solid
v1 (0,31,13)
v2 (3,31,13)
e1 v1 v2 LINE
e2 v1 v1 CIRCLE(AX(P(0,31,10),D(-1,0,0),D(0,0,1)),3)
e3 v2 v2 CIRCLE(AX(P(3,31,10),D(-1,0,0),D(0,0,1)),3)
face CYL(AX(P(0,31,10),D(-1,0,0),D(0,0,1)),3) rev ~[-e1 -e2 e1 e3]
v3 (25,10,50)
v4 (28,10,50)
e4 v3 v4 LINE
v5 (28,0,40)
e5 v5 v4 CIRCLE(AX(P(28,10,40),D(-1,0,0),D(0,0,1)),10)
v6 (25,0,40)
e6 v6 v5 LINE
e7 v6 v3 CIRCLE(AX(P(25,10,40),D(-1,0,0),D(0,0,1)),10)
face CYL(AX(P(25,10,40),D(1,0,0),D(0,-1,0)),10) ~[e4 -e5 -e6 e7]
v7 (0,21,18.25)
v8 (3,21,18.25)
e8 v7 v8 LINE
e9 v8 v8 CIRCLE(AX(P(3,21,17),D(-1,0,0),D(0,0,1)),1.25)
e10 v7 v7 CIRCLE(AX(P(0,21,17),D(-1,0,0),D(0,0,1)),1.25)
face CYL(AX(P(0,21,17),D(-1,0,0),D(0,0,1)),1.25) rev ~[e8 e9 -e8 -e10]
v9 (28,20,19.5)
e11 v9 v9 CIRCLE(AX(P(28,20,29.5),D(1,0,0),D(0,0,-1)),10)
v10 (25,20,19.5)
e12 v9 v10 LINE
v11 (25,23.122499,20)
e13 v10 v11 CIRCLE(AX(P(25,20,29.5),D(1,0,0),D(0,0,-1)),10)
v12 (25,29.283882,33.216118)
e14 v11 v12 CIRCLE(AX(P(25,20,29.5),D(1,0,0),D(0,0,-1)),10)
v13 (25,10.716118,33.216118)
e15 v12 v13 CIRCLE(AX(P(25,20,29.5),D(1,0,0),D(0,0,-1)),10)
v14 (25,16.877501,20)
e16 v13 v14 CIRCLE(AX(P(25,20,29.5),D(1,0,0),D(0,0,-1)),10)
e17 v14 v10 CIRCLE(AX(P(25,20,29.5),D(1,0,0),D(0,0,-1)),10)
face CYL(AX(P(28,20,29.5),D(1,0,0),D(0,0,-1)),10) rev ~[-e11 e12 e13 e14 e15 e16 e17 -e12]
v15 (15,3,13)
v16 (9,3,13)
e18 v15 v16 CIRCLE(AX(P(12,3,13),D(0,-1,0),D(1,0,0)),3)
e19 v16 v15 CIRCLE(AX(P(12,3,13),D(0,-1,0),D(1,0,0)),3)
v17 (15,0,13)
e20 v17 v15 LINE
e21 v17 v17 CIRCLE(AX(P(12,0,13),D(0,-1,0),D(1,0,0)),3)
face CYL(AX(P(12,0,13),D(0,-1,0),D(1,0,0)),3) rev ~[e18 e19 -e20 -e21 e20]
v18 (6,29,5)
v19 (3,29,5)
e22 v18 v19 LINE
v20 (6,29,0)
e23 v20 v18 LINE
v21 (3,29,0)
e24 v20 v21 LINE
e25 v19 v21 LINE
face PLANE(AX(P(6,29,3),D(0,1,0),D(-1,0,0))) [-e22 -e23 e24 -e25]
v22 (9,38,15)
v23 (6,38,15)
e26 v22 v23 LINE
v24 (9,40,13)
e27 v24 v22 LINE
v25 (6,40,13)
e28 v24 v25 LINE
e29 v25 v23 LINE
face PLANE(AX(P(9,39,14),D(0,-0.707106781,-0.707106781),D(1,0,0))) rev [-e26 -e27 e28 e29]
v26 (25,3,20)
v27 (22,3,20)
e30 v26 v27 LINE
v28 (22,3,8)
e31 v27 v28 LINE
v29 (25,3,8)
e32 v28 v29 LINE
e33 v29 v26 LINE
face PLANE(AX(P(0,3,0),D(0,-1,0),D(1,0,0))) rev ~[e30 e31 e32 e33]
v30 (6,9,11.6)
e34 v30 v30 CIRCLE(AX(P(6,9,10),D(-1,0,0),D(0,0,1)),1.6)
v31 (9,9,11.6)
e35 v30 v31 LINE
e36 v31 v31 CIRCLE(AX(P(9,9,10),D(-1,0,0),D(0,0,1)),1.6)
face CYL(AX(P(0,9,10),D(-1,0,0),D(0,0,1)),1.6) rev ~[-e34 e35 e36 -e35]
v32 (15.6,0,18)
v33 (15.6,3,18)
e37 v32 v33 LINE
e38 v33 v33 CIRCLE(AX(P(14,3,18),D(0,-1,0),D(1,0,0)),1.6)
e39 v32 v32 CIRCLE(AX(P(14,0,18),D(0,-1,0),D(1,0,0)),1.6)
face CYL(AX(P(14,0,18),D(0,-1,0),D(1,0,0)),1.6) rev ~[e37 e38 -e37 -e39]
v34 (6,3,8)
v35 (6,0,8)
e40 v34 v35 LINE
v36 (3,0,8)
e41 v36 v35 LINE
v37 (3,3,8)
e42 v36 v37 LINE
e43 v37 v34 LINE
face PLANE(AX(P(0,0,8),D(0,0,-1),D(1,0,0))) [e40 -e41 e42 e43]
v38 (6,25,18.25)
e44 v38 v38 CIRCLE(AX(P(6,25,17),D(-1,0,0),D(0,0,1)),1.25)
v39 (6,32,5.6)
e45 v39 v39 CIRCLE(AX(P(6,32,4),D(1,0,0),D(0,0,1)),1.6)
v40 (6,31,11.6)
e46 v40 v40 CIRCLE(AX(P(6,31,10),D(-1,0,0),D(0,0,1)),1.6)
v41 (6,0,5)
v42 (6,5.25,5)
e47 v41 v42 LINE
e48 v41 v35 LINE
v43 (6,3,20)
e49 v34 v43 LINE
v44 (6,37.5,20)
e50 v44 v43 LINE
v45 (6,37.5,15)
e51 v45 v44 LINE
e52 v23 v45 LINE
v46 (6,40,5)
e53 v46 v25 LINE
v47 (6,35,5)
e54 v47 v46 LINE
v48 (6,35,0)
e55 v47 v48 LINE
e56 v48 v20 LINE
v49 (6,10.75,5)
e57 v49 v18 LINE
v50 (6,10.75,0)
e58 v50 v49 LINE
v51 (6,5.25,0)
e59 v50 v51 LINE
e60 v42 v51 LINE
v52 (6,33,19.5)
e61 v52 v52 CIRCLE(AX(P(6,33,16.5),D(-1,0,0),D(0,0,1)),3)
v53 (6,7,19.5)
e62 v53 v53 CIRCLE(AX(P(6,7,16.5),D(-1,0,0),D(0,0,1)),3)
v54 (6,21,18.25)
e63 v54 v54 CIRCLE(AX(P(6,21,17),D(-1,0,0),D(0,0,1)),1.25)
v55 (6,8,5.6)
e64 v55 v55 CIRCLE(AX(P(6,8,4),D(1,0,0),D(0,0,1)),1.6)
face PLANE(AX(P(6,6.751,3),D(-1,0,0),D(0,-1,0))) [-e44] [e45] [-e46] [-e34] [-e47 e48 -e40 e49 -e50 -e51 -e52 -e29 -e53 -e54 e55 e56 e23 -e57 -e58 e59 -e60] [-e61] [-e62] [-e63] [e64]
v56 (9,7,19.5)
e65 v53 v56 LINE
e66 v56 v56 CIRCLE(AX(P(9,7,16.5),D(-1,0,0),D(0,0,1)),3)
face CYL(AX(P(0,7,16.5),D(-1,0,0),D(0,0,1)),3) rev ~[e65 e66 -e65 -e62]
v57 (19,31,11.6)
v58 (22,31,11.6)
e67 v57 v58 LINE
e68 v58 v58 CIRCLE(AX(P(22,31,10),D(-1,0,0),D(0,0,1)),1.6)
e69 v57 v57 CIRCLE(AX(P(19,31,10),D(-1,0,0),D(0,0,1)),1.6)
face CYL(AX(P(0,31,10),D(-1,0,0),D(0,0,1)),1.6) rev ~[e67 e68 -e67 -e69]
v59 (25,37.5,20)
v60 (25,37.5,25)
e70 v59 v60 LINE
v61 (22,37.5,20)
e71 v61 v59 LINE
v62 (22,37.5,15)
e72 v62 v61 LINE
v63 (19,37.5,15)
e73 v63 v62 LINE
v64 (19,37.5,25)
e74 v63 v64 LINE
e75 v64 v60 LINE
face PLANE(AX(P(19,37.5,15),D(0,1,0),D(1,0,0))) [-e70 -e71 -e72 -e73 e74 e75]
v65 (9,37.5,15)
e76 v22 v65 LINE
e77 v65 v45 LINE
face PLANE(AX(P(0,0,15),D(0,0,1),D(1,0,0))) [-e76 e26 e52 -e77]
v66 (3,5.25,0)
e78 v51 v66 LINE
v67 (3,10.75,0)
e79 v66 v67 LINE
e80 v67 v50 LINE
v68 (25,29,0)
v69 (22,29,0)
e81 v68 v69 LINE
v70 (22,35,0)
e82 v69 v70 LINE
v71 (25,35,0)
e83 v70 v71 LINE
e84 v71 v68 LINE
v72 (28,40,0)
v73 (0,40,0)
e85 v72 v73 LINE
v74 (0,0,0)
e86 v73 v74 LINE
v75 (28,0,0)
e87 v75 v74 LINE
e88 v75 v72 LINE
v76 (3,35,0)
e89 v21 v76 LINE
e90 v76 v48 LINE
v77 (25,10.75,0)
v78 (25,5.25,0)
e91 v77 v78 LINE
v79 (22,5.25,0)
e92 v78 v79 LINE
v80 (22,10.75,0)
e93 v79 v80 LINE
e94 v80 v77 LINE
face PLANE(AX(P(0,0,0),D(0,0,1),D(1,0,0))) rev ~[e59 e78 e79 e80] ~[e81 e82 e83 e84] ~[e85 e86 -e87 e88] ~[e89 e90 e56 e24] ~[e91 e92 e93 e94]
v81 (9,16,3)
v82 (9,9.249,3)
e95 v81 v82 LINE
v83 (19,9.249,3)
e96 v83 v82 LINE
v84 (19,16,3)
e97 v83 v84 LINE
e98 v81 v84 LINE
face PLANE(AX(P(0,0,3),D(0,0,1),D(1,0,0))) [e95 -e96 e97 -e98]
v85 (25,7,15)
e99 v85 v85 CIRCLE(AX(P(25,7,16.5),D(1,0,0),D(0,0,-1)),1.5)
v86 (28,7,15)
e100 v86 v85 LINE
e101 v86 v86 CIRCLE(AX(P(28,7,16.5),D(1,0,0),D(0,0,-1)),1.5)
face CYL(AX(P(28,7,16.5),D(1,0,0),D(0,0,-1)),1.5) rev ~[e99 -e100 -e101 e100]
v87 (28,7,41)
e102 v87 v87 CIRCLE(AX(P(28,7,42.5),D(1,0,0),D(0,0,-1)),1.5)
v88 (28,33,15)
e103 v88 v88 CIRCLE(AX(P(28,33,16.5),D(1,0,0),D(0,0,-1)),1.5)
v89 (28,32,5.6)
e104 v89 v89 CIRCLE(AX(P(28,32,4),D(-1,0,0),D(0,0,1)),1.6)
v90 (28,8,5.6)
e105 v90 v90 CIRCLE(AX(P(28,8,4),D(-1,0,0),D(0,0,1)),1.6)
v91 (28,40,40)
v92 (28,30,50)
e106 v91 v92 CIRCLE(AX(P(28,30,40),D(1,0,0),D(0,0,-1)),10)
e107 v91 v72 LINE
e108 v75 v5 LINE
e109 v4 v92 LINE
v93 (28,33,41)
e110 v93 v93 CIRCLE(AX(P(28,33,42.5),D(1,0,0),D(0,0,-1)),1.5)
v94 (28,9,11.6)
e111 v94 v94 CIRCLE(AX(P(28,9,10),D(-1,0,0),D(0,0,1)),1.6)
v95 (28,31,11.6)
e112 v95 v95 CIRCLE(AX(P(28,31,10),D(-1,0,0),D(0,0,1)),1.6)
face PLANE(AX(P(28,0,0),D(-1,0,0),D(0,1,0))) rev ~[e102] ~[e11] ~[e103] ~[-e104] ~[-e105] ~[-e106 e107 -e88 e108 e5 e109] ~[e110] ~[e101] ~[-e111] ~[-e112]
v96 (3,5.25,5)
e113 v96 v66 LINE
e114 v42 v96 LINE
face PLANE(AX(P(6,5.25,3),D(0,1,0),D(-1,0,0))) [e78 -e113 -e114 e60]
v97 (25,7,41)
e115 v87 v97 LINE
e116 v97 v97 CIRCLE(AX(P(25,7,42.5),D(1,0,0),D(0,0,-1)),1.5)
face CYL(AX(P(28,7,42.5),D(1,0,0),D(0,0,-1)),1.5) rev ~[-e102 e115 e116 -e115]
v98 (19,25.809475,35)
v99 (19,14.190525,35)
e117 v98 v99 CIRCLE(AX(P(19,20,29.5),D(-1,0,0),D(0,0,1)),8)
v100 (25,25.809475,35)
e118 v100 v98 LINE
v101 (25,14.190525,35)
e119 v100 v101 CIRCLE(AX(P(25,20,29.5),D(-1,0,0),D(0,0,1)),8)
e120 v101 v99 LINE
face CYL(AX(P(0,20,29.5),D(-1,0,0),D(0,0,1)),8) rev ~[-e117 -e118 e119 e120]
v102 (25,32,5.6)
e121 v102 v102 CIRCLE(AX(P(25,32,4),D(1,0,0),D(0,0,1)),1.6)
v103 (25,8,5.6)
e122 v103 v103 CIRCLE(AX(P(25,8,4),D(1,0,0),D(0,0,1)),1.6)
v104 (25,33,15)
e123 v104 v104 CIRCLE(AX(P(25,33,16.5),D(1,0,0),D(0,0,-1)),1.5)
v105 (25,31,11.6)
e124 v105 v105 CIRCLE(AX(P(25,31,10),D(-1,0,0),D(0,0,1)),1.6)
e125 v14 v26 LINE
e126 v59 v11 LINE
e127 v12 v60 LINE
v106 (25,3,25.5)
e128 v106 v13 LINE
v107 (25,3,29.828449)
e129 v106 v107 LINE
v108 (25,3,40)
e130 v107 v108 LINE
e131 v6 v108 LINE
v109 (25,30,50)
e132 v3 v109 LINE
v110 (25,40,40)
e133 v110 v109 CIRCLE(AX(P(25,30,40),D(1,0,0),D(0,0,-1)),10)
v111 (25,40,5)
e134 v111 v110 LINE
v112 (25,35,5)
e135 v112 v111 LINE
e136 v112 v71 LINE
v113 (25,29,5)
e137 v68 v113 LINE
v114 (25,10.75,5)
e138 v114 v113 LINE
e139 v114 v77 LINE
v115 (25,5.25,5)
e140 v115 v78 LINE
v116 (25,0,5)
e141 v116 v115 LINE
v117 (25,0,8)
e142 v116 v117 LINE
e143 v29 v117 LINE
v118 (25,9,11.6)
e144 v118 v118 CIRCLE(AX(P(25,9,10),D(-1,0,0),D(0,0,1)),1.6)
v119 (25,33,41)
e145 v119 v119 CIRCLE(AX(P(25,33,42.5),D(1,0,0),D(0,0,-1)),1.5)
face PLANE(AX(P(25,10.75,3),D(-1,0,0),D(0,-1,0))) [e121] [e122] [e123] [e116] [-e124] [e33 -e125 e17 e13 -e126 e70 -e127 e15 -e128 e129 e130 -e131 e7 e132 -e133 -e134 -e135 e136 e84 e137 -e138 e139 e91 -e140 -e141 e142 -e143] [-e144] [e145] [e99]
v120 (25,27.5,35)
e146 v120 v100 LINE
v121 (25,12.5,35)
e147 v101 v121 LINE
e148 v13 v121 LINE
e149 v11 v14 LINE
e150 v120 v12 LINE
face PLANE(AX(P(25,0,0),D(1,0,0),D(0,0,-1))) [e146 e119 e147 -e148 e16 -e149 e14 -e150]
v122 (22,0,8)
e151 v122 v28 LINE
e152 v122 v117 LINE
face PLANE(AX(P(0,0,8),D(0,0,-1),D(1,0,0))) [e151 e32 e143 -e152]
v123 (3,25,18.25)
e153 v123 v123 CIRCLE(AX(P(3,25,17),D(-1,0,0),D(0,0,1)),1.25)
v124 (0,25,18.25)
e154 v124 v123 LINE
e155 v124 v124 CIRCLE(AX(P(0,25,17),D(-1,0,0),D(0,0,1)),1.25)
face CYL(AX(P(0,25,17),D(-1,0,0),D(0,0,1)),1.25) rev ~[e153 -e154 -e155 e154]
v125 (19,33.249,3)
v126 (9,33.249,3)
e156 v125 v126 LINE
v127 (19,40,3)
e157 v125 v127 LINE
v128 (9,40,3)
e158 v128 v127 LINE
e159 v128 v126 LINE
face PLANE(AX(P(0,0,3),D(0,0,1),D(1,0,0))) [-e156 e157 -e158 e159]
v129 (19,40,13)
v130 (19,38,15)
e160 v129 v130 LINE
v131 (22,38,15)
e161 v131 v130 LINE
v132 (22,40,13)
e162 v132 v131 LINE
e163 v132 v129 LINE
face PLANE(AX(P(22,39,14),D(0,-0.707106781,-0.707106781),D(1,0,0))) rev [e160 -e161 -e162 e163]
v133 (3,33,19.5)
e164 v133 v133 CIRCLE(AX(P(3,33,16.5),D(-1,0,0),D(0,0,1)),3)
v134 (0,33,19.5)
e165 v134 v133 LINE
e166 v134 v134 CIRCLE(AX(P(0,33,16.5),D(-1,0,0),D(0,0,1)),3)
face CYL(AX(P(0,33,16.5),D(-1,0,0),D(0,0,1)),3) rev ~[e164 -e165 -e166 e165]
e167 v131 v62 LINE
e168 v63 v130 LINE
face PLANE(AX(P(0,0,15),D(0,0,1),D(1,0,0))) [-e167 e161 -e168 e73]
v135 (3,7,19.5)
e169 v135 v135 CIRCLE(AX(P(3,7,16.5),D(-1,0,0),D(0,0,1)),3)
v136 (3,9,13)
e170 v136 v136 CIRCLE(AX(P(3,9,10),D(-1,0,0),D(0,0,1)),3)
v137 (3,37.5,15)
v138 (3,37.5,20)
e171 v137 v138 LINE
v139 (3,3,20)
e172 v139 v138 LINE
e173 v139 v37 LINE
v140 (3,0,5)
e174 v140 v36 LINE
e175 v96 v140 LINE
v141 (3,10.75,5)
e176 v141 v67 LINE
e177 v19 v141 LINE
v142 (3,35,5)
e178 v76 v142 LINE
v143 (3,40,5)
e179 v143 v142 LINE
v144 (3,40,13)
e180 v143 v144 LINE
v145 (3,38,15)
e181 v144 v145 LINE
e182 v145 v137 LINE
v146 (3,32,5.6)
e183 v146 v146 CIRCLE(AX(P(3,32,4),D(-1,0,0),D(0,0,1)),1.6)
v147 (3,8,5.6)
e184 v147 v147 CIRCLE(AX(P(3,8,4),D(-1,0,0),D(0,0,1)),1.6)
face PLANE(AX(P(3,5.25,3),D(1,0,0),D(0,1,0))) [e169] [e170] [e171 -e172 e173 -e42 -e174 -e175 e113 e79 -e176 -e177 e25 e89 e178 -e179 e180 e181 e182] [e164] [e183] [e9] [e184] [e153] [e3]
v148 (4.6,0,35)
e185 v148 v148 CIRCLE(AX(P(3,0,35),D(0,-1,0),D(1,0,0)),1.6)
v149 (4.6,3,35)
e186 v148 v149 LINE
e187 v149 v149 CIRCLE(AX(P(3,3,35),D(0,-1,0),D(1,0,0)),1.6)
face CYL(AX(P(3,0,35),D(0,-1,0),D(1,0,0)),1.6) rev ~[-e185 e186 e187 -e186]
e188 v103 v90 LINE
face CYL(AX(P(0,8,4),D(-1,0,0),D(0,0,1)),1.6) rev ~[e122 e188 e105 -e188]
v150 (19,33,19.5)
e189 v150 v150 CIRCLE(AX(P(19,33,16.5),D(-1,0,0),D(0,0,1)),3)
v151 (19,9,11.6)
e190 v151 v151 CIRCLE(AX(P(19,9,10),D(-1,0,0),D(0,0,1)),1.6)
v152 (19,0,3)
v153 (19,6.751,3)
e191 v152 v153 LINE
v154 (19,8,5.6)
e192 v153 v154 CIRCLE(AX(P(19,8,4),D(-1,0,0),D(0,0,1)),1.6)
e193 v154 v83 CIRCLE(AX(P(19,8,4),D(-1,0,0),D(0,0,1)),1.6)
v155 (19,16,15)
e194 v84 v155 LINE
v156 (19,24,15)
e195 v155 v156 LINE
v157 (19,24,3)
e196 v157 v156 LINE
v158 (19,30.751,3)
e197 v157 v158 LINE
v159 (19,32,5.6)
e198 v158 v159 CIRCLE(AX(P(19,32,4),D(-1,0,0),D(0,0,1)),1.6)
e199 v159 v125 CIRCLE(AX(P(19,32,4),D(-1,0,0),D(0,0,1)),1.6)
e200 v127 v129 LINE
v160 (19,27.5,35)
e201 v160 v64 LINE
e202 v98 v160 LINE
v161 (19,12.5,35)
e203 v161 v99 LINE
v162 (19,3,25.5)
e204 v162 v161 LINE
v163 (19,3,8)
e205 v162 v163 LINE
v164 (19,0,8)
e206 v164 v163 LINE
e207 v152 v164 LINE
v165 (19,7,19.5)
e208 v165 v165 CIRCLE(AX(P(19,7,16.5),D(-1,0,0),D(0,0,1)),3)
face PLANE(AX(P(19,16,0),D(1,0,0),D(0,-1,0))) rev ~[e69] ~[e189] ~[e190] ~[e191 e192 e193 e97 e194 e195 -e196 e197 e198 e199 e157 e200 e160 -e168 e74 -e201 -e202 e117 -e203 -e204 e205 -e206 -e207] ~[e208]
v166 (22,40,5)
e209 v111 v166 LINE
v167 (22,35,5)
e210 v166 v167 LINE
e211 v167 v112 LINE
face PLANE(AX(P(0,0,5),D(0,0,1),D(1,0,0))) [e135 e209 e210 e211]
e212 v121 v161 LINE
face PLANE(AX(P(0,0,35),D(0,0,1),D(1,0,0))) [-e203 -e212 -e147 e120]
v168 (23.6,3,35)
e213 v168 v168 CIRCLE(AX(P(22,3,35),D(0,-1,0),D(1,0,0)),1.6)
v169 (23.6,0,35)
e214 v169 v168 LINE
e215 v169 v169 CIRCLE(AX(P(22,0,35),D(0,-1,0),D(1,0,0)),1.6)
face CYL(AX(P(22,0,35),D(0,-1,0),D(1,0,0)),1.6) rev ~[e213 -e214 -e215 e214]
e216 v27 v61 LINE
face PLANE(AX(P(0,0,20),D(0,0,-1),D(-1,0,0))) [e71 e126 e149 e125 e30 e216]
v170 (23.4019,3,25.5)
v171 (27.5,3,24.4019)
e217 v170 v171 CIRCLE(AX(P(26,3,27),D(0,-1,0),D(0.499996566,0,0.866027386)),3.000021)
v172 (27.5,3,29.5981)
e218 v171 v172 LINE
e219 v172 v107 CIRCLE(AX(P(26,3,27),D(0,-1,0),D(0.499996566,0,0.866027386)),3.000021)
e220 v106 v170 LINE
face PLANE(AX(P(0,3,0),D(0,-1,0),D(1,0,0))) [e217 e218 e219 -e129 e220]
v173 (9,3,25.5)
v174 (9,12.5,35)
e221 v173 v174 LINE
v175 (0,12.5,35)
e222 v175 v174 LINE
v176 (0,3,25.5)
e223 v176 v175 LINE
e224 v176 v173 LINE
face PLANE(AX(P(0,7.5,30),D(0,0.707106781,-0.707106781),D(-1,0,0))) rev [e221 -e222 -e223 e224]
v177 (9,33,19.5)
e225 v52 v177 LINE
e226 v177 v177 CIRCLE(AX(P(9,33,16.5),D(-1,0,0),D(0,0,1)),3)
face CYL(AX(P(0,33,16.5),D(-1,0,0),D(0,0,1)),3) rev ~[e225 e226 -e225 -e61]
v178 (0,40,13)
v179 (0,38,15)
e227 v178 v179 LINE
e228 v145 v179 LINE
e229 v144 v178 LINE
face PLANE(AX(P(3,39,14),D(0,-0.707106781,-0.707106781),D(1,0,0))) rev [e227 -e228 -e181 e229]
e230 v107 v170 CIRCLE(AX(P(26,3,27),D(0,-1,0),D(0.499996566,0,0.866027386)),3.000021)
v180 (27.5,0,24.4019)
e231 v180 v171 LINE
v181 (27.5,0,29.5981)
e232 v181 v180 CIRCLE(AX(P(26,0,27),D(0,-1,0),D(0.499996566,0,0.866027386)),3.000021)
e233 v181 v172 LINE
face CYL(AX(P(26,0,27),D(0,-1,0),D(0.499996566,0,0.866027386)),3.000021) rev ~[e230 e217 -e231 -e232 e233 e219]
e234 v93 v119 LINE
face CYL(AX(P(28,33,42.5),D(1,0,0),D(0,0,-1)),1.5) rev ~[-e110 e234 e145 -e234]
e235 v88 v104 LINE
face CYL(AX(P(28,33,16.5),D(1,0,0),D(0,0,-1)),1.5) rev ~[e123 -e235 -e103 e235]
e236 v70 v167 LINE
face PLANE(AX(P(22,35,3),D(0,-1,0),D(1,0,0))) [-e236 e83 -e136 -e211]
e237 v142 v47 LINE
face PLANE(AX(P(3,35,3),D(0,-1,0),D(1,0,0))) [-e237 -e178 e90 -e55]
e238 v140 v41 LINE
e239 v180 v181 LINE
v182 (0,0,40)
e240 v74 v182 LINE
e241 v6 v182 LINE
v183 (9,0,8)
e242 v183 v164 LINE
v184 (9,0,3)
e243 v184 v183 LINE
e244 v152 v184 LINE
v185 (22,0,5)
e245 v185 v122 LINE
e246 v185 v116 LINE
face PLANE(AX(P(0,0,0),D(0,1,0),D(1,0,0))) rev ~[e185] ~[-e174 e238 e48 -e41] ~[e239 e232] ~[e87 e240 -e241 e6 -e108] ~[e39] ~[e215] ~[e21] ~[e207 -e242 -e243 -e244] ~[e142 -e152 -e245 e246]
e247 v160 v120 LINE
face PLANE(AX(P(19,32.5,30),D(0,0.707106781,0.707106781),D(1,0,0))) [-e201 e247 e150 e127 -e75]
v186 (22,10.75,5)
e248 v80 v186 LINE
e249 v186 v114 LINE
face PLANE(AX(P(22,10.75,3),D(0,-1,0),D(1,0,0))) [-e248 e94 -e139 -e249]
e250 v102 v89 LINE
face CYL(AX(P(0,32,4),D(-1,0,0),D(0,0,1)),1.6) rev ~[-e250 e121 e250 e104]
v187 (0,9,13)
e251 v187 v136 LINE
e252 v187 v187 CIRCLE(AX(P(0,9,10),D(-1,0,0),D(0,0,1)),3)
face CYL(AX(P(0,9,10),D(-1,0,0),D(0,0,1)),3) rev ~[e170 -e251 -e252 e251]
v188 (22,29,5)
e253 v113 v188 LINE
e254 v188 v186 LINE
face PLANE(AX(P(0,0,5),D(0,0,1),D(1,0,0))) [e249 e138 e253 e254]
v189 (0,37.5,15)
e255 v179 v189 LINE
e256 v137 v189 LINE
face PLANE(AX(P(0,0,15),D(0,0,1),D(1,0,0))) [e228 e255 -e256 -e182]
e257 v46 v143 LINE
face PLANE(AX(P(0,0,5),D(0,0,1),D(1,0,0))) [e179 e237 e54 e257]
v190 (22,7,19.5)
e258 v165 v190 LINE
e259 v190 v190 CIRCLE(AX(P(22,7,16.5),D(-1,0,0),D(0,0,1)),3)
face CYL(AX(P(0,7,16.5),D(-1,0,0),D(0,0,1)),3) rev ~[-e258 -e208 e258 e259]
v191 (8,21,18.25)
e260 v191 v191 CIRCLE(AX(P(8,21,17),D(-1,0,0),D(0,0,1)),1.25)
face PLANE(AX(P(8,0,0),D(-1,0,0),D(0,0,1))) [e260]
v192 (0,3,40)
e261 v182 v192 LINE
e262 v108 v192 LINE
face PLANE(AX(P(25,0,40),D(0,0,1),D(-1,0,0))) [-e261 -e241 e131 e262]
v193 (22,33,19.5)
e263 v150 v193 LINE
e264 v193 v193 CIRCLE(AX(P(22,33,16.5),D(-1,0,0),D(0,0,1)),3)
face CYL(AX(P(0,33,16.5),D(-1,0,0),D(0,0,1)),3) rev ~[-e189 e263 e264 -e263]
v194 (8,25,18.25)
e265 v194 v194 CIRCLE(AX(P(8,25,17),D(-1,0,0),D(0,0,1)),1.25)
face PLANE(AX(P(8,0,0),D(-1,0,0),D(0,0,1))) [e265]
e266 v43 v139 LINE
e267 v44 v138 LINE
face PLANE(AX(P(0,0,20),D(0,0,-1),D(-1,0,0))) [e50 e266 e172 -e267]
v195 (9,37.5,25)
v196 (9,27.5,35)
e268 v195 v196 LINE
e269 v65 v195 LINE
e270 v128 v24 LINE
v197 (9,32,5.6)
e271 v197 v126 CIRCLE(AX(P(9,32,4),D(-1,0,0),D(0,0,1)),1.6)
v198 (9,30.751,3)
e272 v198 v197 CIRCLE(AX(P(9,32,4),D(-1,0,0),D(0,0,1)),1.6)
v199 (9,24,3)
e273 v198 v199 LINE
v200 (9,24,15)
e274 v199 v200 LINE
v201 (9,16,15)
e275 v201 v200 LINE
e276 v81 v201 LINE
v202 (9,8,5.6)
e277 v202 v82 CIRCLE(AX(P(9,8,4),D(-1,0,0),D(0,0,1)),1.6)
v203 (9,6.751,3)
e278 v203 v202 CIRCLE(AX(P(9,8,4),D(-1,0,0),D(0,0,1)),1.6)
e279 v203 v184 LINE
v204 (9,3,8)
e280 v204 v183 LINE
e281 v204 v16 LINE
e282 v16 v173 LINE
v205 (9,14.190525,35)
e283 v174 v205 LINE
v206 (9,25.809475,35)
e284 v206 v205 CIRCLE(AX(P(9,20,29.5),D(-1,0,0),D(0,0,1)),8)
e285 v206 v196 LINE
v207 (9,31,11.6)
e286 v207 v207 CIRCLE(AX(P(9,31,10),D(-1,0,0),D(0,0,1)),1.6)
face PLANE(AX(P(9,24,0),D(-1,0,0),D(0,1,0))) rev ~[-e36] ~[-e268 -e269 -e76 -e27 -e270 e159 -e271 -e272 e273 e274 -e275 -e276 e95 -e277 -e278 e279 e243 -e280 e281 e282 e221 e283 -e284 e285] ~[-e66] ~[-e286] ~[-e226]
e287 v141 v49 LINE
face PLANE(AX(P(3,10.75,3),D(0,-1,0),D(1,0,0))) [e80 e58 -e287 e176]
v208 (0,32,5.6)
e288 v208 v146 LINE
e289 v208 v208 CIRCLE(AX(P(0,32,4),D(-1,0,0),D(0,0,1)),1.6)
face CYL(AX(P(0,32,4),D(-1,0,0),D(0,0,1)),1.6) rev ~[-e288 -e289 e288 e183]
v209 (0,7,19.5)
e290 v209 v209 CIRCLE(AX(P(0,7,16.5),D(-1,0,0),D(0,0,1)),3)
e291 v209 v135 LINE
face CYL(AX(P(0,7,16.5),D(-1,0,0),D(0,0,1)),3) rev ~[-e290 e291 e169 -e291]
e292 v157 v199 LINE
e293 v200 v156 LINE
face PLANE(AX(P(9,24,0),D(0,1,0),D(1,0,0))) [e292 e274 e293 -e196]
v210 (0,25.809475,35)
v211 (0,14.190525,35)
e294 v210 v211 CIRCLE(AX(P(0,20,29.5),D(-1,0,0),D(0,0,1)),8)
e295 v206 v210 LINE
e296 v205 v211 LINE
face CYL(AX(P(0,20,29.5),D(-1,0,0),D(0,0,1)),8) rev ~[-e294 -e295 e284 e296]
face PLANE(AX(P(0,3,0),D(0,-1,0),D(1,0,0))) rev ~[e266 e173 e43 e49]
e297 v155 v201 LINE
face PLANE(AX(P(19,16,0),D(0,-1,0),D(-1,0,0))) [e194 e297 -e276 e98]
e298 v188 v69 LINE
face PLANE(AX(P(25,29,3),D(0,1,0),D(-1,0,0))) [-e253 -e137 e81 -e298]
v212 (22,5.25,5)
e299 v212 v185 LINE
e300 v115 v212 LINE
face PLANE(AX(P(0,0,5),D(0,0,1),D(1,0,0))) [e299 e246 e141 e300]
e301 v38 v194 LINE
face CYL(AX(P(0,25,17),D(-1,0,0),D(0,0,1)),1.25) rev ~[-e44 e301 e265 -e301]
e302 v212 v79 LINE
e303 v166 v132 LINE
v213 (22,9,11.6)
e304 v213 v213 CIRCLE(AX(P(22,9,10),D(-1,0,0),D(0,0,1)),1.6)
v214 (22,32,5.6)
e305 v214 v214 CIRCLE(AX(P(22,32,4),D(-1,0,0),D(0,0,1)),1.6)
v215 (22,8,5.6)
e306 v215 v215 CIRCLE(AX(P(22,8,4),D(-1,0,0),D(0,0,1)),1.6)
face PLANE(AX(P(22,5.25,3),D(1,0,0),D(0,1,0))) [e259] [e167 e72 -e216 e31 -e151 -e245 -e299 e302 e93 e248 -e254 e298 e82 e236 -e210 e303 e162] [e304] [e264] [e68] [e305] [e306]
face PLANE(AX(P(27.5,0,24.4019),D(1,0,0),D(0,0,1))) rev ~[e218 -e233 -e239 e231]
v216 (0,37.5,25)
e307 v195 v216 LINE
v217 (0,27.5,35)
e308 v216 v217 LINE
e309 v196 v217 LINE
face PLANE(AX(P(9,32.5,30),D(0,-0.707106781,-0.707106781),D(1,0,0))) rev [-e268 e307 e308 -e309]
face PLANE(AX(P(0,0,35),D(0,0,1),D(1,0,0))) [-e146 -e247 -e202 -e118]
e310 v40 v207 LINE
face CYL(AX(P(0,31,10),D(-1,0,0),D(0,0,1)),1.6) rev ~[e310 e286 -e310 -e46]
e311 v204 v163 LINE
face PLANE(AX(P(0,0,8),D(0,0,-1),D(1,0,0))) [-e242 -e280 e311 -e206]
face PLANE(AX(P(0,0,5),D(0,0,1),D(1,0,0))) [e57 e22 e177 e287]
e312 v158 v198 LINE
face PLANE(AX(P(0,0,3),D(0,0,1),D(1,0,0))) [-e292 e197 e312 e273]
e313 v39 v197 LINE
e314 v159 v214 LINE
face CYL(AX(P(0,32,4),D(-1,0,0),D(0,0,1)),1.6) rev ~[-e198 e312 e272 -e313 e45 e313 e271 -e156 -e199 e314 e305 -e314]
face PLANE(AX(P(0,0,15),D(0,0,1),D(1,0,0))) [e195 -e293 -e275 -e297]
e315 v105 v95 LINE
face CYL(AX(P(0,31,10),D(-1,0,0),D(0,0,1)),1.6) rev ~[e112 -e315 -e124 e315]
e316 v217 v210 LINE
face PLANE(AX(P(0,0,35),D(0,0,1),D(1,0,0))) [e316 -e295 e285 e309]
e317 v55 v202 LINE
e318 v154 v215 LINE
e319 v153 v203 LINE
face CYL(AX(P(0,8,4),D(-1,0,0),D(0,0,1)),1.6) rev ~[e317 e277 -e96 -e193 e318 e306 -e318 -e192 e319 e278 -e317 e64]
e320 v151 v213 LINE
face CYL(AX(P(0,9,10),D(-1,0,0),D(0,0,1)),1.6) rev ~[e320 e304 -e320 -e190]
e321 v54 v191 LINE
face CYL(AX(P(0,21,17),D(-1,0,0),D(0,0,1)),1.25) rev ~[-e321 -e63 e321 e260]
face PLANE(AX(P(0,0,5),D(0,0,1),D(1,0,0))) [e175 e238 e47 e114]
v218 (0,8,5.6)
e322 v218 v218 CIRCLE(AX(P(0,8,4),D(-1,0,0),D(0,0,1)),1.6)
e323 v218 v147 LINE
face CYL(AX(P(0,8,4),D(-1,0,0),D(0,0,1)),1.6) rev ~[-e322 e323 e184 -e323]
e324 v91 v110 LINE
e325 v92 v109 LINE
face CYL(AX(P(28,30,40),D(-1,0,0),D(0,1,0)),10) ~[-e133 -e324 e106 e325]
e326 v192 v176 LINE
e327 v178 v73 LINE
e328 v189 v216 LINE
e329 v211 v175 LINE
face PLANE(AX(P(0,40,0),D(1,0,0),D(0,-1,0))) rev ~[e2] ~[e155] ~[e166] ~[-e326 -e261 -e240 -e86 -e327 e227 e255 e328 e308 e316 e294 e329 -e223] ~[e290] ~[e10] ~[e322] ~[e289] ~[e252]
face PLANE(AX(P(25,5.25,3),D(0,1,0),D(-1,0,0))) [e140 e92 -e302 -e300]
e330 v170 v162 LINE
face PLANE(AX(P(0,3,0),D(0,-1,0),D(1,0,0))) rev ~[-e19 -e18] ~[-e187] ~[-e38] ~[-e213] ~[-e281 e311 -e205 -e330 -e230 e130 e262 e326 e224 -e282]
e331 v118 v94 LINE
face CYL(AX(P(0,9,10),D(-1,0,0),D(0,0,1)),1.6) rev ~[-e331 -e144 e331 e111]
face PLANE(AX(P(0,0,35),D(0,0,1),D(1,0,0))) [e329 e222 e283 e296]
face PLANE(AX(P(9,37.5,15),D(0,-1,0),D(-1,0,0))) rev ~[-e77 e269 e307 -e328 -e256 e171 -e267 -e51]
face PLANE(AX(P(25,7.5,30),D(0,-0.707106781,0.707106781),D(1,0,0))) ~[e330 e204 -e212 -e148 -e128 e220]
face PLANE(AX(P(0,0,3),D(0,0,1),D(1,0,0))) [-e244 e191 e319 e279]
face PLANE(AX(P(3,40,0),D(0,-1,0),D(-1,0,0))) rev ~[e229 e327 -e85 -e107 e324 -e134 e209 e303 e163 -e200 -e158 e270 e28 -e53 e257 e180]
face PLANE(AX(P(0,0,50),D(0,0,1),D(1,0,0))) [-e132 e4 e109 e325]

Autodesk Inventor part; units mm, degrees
ref_plane "YZ Plane" through (0, 0, 0) normal (1, 0, 0) x (0, 1, 0)
ref_plane "XZ Plane" through (0, 0, 0) normal (0, 1, 0) x (-1, 0, 0)
ref_plane "XY Plane" through (0, 0, 0) normal (0, 0, 1) x (1, 0, 0)
sketch "Sketch1" plane through (0, 0, 0) normal (0, 0, 1) x (1, 0, 0)
  line L0 (0, 0) -> (28, 0)
  line L1 (28, 0) -> (28, 40)
  line L2 (28, 40) -> (0, 40)
  line L3 (0, 40) -> (0, 0)
  line L4 (9, 40) -> (19, 40)
  line L5 (19, 40) -> (19, 0)
  line L6 (19, 0) -> (9, 0)
  line L7 (9, 0) -> (9, 40)
  line L8 (9, 40) -> (6, 40)
  line L9 (6, 40) -> (6, 0)
  line L10 (6, 0) -> (9, 0)
  line L11 (9, 0) -> (9, 40)
  line L12 (19, 40) -> (22, 40)
  line L13 (22, 40) -> (22, 0)
  line L14 (22, 0) -> (19, 0)
  line L15 (19, 0) -> (19, 40)
  line L16 (25, 40) -> (28, 40)
  line L17 (28, 40) -> (28, 0)
  line L18 (28, 0) -> (25, 0)
  line L19 (25, 0) -> (25, 40)
  line L20 (9, 24) -> (19, 24)
  line L21 (19, 24) -> (19, 16)
  line L22 (19, 16) -> (9, 16)
  line L23 (9, 16) -> (9, 24)
  line L24 (9, 40) -> (19, 40)
  line L25 (19, 40) -> (19, 40)
  line L26 (19, 40) -> (9, 40)
  line L27 (9, 40) -> (9, 40)
  line L28 (9, 0) -> (19, 0)
  line L29 (19, 0) -> (19, 0)
  line L30 (19, 0) -> (9, 0)
  line L31 (9, 0) -> (9, 0)
  line L32 (0, 40) -> (3, 40)
  line L33 (3, 40) -> (3, 0)
  line L34 (3, 0) -> (0, 0)
  line L35 (0, 0) -> (0, 40)
  point P0 (14, 40)
  point P1 (14, 40)
  point P2 (9, 20)
  point P3 (9, 20)
  point P4 (9, 20)
  point P5 (0, 20)
  dimension "d0" = 28
  dimension "d1" = 40
  dimension "d15" = 10
  dimension "d16" = 40
  dimension "d18" = 3
  dimension "d19" = 3
  dimension "d20" = 3
  dimension "d30" = 8
  dimension "d33" = 3
extrude "Extrusion1" add sketch "Sketch1" along normal blind 3
extrude "Extrusion3" add sketch "Sketch1" along normal blind 15 contours L3 L2 L33 L0 | L9 L2 L7 L0 | L5 L2 L13 L0
extrude "Extrusion4" add sketch "Sketch1" along normal blind 50 contours L19 L2 L1 L0
extrude "Extrusion6" add sketch "Sketch1" along normal blind 15 contours L7 L20 L5 L22
sketch "Sketch7" plane through (0, 0, 0) normal (-1, 0, 0) x (0, 0, 1)
  circle A0 centre (4, 32) radius 1.6
  circle A1 centre (4, 8) radius 1.6
  line L0 (4, 32) -> (4, 8) construction
  line L1 (15, 40) -> (15, 0) construction
  line L2 (0, 40) -> (15, 40) construction
  circle A2 centre (10, 31) radius 1.6
  circle A3 centre (10, 9) radius 1.6
  point P0 (0, 0)
  point P1 (4, 20)
  point P2 (15, 20)
  dimension "d34" = 3.2
  dimension "d35" = 3.2
  dimension "d36" = 24
  dimension "d40" = 4
  dimension "d48" = 3.2
  dimension "d49" = 3.2
  dimension "d50" = 9
  dimension "d51" = 5
  dimension "d52" = 5
  dimension "d53" = 9
extrude "Extrusion7" cut sketch "Sketch7" against normal through all
sketch "Sketch9" plane through (0, 0, 3) normal (0, 0, 1) x (1, 0, 0)
  line L0 (3, 33.249) -> (6, 33.249) projected
  line L1 (6, 30.751) -> (3, 30.751) projected
  line L2 (6, 6.751) -> (3, 6.751) projected
  line L3 (3, 9.249) -> (6, 9.249) projected
  line L4 (3, 35) -> (6, 35)
  line L5 (6, 35) -> (6, 29)
  line L6 (6, 29) -> (3, 29)
  line L7 (3, 29) -> (3, 35)
  line L8 (22, 35) -> (25, 35)
  line L9 (25, 35) -> (25, 29)
  line L10 (25, 29) -> (22, 29)
  line L11 (22, 29) -> (22, 35)
  line L12 (3, 10.75) -> (6, 10.75)
  line L13 (6, 10.75) -> (6, 5.25)
  line L14 (6, 5.25) -> (3, 5.25)
  line L15 (3, 5.25) -> (3, 10.75)
  line L16 (22, 10.75) -> (25, 10.75)
  line L17 (25, 10.75) -> (25, 5.25)
  line L18 (25, 5.25) -> (22, 5.25)
  line L19 (22, 5.25) -> (22, 10.75)
  line L20 (3, 33.6) -> (3, 30.4) projected
  line L21 (3, 9.6) -> (3, 6.4) projected
  line L22 (22, 33.249) -> (25, 33.249) projected
  point P0 (0, 0)
  point P1 (4.5, 35)
  point P2 (4.5, 33.249)
  point P3 (23.5, 35)
  point P4 (3, 32)
  point P5 (3, 32)
  point P6 (3, 8)
  point P7 (3, 8)
  point P8 (23.5, 33.249)
  dimension "d41" = 6
  dimension "d43" = 5.5
  dimension "d44" = 3
  dimension "d45" = 3
extrude "Extrusion8" cut sketch "Sketch9" against normal blind 5
sketch "Sketch10" plane through (0, 0, 0) normal (-1, 0, 0) x (0, 0, 1)
  circle A0 centre (10, 9) radius 1.6 construction
  circle A1 centre (10, 31) radius 1.6 construction
  circle A2 centre (10, 31) radius 3
  circle A3 centre (10, 9) radius 3
  dimension "d54" = 6
  dimension "d55" = 6
extrude "Extrusion9" cut sketch "Sketch10" against normal blind 3
sketch "Sketch11" plane through (0, 0, 3) normal (0, 0, 1) x (1, 0, 0)
  line L0 (6, 5.25) -> (3, 5.25) projected
  line L1 (3, 5.25) -> (3, 0) projected
  line L2 (3, 0) -> (6, 0) projected
  line L3 (6, 0) -> (6, 5.25) projected
  line L4 (6, 29) -> (3, 29) projected
  line L5 (3, 29) -> (3, 10.75) projected
  line L6 (3, 10.75) -> (6, 10.75) projected
  line L7 (6, 10.75) -> (6, 29) projected
  line L8 (25, 5.25) -> (22, 5.25) projected
  line L9 (22, 5.25) -> (22, 0) projected
  line L10 (22, 0) -> (25, 0) projected
  line L11 (25, 0) -> (25, 5.25) projected
  line L12 (22, 10.75) -> (25, 10.75) projected
  line L13 (25, 10.75) -> (25, 29) projected
  line L14 (25, 29) -> (22, 29) projected
  line L15 (22, 29) -> (22, 10.75) projected
  line L16 (22, 35) -> (25, 35) projected
  line L17 (25, 35) -> (25, 40) projected
  line L18 (25, 40) -> (22, 40) projected
  line L19 (22, 40) -> (22, 35) projected
  line L20 (3, 35) -> (6, 35) projected
  line L21 (6, 35) -> (6, 40) projected
  line L22 (6, 40) -> (3, 40) projected
  line L23 (3, 40) -> (3, 35) projected
  point P0 (0, 0)
extrude "Extrusion10" add sketch "Sketch11" along normal blind 2
sketch "Sketch12" plane through (0, 0, 15) normal (0, 0, 1) x (1, 0, 0)
  line L0 (19, 40) -> (19, 24) construction
  line L1 (19, 24) -> (9, 24) construction
  line L2 (9, 24) -> (9, 40) construction
  line L3 (9, 40) -> (6, 40) construction
  line L4 (6, 40) -> (6, 0) construction
  line L5 (6, 0) -> (9, 0) construction
  line L6 (9, 0) -> (9, 16) construction
  line L7 (9, 16) -> (19, 16) construction
  line L8 (19, 16) -> (19, 0) construction
  line L9 (19, 0) -> (22, 0) construction
  line L10 (22, 0) -> (22, 40) construction
  line L11 (22, 40) -> (19, 40) construction
  line L12 (25, 40) -> (25, 0) construction
  line L13 (3, 0) -> (3, 40) construction
  line L14 (0, 40) -> (0, 0) construction
  line L15 (9, 37.5) -> (0, 37.5)
  line L16 (0, 37.5) -> (0, 2.5)
  line L17 (0, 2.5) -> (9, 2.5)
  line L18 (9, 2.5) -> (9, 37.5)
  line L19 (19, 37.5) -> (25, 37.5)
  line L20 (25, 37.5) -> (25, 2.5)
  line L21 (25, 2.5) -> (19, 2.5)
  line L22 (19, 2.5) -> (19, 37.5)
  point P0 (0, 20)
  point P1 (0, 20)
  point P2 (19, 20)
  point P3 (9, 20)
  dimension "d60" = 35
extrude "Extrusion11" add sketch "Sketch12" along normal blind 20
chamfer "Chamfer1" distance 10 angle 45 4 edges at (22, 37.5, 35) (4.5, 37.5, 35) (22, 2.5, 35) (4.5, 2.5, 35)
sketch "Sketch13" plane through (0, 0, 0) normal (-1, 0, 0) x (0, 0, 1)
  circle A0 centre (29.5, 20) radius 2.5 construction
  circle A1 centre (29.5, 20) radius 8
  dimension "d68" = 16
extrude "Extrusion12" cut sketch "Sketch13" against normal blind 30
sketch "Sketch14" plane through (28, 0, 0) normal (1, 0, 0) x (0, 0, -1)
  circle A0 centre (-16.5, 7) radius 1.5 projected
  circle A1 centre (-42.5, 7) radius 1.5 projected
  circle A2 centre (-16.5, 33) radius 1.5 projected
  circle A3 centre (-42.5, 33) radius 1.5 projected
  circle A4 centre (-29.5, 20) radius 2.5 construction
  circle A5 centre (-29.5, 20) radius 10 projected
  point P0 (0, 0)
extrude "Extrusion13" cut sketch "Sketch14" against normal blind 3
fillet "Fillet1" radius 10 2 edges at (26.5, 40, 50) (26.5, 0, 50)
chamfer "Chamfer2" distance 2 angle 45 6 edges at (20.5, 40, 15) (7.5, 40, 15) (1.5, 40, 15) (7.5, 0, 15) (20.5, 0, 15) (1.5, 0, 15)
sketch "Sketch15" plane through (0, 0, 0) normal (0, -1, 0) x (1, 0, 0)
  line L0 (0, 8) -> (28, 8)
  line L1 (28, 8) -> (28, 40)
  line L2 (28, 40) -> (0, 40)
  line L3 (0, 40) -> (0, 8)
  line L4 (25, 40) -> (28, 40) projected
  line L5 (28, 0) -> (28, 40) projected
  line L6 (0, 0) -> (0, 13) projected
  dimension "d78" = 8
extrude "Extrusion14" add sketch "Sketch15" against normal blind 3
sketch "Sketch16" plane through (0, 0, 0) normal (0, -1, 0) x (1, 0, 0)
  circle A0 centre (22, 35) radius 1.6
  circle A1 centre (3, 35) radius 1.6
  circle A2 centre (14, 18) radius 1.6
  line L0 (0, 0) -> (28, 0) projected
  circle A3 centre (12, 13) radius 1.6 construction
  circle A4 centre (26, 27) radius 1.6 construction
  circle A5 centre (12, 13) radius 3
  arc A6 (27.5, 29.5981) -> (27.5, 24.4019) centre (26, 27) ccw
  line L1 (28, 0) -> (28, 40) projected
  line L2 (3, 5) -> (3, 8) projected
  line L3 (27.5, 23.5581) -> (27.5, 30.9377)
  point P0 (14, 0)
  dimension "d81" = 3.2
  dimension "d82" = 3.2
  dimension "d83" = 3.2
  dimension "d84" = 35
  dimension "d85" = 3
  dimension "d86" = 6
  dimension "d87" = 18
  dimension "d104" = 6
  dimension "d105" = 6
  dimension "d107" = 0.5
extrude "Extrusion15" cut sketch "Sketch16" against normal blind 3
sketch "Sketch17" plane through (0, 0, 0) normal (-1, 0, 0) x (0, 0, 1)
  circle A0 centre (17, 21) radius 1.6 projected
  circle A1 centre (17, 21) radius 1.25
  circle A2 centre (17, 25) radius 1.25
  dimension "d91" = 2.5
  dimension "d94" = 2.5
  dimension "d96" = 4
extrude "Extrusion16" cut sketch "Sketch17" against normal blind 8 contours A1 | A2
sketch "Sketch18" plane through (0, 0, 15) normal (0, 0, -1) x (-1, 0, 0)
  line L0 (-6, 3) -> (-3, 3) projected
  line L1 (-3, 3) -> (-3, 37.5) projected
  line L2 (-6, 37.5) -> (-3, 37.5) projected
  line L3 (-6, 37.5) -> (-6, 3) projected
  line L4 (-25, 3) -> (-22, 3) projected
  line L5 (-22, 3) -> (-22, 37.5) projected
  line L6 (-22, 37.5) -> (-25, 37.5) projected
  line L7 (-25, 33) -> (-25, 37.5) projected
  line L8 (-25, 7) -> (-25, 33) projected
  line L9 (-25, 3) -> (-25, 7) projected
  point P0 (0, 0)
extrude "Extrusion17" cut sketch "Sketch18" against normal blind 5
sketch "Sketch19" plane through (0, 0, 0) normal (-1, 0, 0) x (0, 0, 1)
  circle A0 centre (16.5, 7) radius 1.5 projected
  circle A1 centre (16.5, 33) radius 1.5 projected
  circle A2 centre (16.5, 33) radius 3
  circle A3 centre (16.5, 7) radius 3
  point P0 (0, 0)
  dimension "d100" = 6
  dimension "d101" = 6
extrude "Extrusion18" cut sketch "Sketch19" against normal up to surface (25 mm away) contours A0 | A1 | A2 | A3
equation "\"d34\" = d48"
equation "\"d35\" = d48"
equation "\"d49\" = d48"
equation "\"d52\" = d51"
equation "\"d53\" = d50"
equation "\"d81\" = d83"
equation "\"d82\" = d83"
properties part number "L bracket"
